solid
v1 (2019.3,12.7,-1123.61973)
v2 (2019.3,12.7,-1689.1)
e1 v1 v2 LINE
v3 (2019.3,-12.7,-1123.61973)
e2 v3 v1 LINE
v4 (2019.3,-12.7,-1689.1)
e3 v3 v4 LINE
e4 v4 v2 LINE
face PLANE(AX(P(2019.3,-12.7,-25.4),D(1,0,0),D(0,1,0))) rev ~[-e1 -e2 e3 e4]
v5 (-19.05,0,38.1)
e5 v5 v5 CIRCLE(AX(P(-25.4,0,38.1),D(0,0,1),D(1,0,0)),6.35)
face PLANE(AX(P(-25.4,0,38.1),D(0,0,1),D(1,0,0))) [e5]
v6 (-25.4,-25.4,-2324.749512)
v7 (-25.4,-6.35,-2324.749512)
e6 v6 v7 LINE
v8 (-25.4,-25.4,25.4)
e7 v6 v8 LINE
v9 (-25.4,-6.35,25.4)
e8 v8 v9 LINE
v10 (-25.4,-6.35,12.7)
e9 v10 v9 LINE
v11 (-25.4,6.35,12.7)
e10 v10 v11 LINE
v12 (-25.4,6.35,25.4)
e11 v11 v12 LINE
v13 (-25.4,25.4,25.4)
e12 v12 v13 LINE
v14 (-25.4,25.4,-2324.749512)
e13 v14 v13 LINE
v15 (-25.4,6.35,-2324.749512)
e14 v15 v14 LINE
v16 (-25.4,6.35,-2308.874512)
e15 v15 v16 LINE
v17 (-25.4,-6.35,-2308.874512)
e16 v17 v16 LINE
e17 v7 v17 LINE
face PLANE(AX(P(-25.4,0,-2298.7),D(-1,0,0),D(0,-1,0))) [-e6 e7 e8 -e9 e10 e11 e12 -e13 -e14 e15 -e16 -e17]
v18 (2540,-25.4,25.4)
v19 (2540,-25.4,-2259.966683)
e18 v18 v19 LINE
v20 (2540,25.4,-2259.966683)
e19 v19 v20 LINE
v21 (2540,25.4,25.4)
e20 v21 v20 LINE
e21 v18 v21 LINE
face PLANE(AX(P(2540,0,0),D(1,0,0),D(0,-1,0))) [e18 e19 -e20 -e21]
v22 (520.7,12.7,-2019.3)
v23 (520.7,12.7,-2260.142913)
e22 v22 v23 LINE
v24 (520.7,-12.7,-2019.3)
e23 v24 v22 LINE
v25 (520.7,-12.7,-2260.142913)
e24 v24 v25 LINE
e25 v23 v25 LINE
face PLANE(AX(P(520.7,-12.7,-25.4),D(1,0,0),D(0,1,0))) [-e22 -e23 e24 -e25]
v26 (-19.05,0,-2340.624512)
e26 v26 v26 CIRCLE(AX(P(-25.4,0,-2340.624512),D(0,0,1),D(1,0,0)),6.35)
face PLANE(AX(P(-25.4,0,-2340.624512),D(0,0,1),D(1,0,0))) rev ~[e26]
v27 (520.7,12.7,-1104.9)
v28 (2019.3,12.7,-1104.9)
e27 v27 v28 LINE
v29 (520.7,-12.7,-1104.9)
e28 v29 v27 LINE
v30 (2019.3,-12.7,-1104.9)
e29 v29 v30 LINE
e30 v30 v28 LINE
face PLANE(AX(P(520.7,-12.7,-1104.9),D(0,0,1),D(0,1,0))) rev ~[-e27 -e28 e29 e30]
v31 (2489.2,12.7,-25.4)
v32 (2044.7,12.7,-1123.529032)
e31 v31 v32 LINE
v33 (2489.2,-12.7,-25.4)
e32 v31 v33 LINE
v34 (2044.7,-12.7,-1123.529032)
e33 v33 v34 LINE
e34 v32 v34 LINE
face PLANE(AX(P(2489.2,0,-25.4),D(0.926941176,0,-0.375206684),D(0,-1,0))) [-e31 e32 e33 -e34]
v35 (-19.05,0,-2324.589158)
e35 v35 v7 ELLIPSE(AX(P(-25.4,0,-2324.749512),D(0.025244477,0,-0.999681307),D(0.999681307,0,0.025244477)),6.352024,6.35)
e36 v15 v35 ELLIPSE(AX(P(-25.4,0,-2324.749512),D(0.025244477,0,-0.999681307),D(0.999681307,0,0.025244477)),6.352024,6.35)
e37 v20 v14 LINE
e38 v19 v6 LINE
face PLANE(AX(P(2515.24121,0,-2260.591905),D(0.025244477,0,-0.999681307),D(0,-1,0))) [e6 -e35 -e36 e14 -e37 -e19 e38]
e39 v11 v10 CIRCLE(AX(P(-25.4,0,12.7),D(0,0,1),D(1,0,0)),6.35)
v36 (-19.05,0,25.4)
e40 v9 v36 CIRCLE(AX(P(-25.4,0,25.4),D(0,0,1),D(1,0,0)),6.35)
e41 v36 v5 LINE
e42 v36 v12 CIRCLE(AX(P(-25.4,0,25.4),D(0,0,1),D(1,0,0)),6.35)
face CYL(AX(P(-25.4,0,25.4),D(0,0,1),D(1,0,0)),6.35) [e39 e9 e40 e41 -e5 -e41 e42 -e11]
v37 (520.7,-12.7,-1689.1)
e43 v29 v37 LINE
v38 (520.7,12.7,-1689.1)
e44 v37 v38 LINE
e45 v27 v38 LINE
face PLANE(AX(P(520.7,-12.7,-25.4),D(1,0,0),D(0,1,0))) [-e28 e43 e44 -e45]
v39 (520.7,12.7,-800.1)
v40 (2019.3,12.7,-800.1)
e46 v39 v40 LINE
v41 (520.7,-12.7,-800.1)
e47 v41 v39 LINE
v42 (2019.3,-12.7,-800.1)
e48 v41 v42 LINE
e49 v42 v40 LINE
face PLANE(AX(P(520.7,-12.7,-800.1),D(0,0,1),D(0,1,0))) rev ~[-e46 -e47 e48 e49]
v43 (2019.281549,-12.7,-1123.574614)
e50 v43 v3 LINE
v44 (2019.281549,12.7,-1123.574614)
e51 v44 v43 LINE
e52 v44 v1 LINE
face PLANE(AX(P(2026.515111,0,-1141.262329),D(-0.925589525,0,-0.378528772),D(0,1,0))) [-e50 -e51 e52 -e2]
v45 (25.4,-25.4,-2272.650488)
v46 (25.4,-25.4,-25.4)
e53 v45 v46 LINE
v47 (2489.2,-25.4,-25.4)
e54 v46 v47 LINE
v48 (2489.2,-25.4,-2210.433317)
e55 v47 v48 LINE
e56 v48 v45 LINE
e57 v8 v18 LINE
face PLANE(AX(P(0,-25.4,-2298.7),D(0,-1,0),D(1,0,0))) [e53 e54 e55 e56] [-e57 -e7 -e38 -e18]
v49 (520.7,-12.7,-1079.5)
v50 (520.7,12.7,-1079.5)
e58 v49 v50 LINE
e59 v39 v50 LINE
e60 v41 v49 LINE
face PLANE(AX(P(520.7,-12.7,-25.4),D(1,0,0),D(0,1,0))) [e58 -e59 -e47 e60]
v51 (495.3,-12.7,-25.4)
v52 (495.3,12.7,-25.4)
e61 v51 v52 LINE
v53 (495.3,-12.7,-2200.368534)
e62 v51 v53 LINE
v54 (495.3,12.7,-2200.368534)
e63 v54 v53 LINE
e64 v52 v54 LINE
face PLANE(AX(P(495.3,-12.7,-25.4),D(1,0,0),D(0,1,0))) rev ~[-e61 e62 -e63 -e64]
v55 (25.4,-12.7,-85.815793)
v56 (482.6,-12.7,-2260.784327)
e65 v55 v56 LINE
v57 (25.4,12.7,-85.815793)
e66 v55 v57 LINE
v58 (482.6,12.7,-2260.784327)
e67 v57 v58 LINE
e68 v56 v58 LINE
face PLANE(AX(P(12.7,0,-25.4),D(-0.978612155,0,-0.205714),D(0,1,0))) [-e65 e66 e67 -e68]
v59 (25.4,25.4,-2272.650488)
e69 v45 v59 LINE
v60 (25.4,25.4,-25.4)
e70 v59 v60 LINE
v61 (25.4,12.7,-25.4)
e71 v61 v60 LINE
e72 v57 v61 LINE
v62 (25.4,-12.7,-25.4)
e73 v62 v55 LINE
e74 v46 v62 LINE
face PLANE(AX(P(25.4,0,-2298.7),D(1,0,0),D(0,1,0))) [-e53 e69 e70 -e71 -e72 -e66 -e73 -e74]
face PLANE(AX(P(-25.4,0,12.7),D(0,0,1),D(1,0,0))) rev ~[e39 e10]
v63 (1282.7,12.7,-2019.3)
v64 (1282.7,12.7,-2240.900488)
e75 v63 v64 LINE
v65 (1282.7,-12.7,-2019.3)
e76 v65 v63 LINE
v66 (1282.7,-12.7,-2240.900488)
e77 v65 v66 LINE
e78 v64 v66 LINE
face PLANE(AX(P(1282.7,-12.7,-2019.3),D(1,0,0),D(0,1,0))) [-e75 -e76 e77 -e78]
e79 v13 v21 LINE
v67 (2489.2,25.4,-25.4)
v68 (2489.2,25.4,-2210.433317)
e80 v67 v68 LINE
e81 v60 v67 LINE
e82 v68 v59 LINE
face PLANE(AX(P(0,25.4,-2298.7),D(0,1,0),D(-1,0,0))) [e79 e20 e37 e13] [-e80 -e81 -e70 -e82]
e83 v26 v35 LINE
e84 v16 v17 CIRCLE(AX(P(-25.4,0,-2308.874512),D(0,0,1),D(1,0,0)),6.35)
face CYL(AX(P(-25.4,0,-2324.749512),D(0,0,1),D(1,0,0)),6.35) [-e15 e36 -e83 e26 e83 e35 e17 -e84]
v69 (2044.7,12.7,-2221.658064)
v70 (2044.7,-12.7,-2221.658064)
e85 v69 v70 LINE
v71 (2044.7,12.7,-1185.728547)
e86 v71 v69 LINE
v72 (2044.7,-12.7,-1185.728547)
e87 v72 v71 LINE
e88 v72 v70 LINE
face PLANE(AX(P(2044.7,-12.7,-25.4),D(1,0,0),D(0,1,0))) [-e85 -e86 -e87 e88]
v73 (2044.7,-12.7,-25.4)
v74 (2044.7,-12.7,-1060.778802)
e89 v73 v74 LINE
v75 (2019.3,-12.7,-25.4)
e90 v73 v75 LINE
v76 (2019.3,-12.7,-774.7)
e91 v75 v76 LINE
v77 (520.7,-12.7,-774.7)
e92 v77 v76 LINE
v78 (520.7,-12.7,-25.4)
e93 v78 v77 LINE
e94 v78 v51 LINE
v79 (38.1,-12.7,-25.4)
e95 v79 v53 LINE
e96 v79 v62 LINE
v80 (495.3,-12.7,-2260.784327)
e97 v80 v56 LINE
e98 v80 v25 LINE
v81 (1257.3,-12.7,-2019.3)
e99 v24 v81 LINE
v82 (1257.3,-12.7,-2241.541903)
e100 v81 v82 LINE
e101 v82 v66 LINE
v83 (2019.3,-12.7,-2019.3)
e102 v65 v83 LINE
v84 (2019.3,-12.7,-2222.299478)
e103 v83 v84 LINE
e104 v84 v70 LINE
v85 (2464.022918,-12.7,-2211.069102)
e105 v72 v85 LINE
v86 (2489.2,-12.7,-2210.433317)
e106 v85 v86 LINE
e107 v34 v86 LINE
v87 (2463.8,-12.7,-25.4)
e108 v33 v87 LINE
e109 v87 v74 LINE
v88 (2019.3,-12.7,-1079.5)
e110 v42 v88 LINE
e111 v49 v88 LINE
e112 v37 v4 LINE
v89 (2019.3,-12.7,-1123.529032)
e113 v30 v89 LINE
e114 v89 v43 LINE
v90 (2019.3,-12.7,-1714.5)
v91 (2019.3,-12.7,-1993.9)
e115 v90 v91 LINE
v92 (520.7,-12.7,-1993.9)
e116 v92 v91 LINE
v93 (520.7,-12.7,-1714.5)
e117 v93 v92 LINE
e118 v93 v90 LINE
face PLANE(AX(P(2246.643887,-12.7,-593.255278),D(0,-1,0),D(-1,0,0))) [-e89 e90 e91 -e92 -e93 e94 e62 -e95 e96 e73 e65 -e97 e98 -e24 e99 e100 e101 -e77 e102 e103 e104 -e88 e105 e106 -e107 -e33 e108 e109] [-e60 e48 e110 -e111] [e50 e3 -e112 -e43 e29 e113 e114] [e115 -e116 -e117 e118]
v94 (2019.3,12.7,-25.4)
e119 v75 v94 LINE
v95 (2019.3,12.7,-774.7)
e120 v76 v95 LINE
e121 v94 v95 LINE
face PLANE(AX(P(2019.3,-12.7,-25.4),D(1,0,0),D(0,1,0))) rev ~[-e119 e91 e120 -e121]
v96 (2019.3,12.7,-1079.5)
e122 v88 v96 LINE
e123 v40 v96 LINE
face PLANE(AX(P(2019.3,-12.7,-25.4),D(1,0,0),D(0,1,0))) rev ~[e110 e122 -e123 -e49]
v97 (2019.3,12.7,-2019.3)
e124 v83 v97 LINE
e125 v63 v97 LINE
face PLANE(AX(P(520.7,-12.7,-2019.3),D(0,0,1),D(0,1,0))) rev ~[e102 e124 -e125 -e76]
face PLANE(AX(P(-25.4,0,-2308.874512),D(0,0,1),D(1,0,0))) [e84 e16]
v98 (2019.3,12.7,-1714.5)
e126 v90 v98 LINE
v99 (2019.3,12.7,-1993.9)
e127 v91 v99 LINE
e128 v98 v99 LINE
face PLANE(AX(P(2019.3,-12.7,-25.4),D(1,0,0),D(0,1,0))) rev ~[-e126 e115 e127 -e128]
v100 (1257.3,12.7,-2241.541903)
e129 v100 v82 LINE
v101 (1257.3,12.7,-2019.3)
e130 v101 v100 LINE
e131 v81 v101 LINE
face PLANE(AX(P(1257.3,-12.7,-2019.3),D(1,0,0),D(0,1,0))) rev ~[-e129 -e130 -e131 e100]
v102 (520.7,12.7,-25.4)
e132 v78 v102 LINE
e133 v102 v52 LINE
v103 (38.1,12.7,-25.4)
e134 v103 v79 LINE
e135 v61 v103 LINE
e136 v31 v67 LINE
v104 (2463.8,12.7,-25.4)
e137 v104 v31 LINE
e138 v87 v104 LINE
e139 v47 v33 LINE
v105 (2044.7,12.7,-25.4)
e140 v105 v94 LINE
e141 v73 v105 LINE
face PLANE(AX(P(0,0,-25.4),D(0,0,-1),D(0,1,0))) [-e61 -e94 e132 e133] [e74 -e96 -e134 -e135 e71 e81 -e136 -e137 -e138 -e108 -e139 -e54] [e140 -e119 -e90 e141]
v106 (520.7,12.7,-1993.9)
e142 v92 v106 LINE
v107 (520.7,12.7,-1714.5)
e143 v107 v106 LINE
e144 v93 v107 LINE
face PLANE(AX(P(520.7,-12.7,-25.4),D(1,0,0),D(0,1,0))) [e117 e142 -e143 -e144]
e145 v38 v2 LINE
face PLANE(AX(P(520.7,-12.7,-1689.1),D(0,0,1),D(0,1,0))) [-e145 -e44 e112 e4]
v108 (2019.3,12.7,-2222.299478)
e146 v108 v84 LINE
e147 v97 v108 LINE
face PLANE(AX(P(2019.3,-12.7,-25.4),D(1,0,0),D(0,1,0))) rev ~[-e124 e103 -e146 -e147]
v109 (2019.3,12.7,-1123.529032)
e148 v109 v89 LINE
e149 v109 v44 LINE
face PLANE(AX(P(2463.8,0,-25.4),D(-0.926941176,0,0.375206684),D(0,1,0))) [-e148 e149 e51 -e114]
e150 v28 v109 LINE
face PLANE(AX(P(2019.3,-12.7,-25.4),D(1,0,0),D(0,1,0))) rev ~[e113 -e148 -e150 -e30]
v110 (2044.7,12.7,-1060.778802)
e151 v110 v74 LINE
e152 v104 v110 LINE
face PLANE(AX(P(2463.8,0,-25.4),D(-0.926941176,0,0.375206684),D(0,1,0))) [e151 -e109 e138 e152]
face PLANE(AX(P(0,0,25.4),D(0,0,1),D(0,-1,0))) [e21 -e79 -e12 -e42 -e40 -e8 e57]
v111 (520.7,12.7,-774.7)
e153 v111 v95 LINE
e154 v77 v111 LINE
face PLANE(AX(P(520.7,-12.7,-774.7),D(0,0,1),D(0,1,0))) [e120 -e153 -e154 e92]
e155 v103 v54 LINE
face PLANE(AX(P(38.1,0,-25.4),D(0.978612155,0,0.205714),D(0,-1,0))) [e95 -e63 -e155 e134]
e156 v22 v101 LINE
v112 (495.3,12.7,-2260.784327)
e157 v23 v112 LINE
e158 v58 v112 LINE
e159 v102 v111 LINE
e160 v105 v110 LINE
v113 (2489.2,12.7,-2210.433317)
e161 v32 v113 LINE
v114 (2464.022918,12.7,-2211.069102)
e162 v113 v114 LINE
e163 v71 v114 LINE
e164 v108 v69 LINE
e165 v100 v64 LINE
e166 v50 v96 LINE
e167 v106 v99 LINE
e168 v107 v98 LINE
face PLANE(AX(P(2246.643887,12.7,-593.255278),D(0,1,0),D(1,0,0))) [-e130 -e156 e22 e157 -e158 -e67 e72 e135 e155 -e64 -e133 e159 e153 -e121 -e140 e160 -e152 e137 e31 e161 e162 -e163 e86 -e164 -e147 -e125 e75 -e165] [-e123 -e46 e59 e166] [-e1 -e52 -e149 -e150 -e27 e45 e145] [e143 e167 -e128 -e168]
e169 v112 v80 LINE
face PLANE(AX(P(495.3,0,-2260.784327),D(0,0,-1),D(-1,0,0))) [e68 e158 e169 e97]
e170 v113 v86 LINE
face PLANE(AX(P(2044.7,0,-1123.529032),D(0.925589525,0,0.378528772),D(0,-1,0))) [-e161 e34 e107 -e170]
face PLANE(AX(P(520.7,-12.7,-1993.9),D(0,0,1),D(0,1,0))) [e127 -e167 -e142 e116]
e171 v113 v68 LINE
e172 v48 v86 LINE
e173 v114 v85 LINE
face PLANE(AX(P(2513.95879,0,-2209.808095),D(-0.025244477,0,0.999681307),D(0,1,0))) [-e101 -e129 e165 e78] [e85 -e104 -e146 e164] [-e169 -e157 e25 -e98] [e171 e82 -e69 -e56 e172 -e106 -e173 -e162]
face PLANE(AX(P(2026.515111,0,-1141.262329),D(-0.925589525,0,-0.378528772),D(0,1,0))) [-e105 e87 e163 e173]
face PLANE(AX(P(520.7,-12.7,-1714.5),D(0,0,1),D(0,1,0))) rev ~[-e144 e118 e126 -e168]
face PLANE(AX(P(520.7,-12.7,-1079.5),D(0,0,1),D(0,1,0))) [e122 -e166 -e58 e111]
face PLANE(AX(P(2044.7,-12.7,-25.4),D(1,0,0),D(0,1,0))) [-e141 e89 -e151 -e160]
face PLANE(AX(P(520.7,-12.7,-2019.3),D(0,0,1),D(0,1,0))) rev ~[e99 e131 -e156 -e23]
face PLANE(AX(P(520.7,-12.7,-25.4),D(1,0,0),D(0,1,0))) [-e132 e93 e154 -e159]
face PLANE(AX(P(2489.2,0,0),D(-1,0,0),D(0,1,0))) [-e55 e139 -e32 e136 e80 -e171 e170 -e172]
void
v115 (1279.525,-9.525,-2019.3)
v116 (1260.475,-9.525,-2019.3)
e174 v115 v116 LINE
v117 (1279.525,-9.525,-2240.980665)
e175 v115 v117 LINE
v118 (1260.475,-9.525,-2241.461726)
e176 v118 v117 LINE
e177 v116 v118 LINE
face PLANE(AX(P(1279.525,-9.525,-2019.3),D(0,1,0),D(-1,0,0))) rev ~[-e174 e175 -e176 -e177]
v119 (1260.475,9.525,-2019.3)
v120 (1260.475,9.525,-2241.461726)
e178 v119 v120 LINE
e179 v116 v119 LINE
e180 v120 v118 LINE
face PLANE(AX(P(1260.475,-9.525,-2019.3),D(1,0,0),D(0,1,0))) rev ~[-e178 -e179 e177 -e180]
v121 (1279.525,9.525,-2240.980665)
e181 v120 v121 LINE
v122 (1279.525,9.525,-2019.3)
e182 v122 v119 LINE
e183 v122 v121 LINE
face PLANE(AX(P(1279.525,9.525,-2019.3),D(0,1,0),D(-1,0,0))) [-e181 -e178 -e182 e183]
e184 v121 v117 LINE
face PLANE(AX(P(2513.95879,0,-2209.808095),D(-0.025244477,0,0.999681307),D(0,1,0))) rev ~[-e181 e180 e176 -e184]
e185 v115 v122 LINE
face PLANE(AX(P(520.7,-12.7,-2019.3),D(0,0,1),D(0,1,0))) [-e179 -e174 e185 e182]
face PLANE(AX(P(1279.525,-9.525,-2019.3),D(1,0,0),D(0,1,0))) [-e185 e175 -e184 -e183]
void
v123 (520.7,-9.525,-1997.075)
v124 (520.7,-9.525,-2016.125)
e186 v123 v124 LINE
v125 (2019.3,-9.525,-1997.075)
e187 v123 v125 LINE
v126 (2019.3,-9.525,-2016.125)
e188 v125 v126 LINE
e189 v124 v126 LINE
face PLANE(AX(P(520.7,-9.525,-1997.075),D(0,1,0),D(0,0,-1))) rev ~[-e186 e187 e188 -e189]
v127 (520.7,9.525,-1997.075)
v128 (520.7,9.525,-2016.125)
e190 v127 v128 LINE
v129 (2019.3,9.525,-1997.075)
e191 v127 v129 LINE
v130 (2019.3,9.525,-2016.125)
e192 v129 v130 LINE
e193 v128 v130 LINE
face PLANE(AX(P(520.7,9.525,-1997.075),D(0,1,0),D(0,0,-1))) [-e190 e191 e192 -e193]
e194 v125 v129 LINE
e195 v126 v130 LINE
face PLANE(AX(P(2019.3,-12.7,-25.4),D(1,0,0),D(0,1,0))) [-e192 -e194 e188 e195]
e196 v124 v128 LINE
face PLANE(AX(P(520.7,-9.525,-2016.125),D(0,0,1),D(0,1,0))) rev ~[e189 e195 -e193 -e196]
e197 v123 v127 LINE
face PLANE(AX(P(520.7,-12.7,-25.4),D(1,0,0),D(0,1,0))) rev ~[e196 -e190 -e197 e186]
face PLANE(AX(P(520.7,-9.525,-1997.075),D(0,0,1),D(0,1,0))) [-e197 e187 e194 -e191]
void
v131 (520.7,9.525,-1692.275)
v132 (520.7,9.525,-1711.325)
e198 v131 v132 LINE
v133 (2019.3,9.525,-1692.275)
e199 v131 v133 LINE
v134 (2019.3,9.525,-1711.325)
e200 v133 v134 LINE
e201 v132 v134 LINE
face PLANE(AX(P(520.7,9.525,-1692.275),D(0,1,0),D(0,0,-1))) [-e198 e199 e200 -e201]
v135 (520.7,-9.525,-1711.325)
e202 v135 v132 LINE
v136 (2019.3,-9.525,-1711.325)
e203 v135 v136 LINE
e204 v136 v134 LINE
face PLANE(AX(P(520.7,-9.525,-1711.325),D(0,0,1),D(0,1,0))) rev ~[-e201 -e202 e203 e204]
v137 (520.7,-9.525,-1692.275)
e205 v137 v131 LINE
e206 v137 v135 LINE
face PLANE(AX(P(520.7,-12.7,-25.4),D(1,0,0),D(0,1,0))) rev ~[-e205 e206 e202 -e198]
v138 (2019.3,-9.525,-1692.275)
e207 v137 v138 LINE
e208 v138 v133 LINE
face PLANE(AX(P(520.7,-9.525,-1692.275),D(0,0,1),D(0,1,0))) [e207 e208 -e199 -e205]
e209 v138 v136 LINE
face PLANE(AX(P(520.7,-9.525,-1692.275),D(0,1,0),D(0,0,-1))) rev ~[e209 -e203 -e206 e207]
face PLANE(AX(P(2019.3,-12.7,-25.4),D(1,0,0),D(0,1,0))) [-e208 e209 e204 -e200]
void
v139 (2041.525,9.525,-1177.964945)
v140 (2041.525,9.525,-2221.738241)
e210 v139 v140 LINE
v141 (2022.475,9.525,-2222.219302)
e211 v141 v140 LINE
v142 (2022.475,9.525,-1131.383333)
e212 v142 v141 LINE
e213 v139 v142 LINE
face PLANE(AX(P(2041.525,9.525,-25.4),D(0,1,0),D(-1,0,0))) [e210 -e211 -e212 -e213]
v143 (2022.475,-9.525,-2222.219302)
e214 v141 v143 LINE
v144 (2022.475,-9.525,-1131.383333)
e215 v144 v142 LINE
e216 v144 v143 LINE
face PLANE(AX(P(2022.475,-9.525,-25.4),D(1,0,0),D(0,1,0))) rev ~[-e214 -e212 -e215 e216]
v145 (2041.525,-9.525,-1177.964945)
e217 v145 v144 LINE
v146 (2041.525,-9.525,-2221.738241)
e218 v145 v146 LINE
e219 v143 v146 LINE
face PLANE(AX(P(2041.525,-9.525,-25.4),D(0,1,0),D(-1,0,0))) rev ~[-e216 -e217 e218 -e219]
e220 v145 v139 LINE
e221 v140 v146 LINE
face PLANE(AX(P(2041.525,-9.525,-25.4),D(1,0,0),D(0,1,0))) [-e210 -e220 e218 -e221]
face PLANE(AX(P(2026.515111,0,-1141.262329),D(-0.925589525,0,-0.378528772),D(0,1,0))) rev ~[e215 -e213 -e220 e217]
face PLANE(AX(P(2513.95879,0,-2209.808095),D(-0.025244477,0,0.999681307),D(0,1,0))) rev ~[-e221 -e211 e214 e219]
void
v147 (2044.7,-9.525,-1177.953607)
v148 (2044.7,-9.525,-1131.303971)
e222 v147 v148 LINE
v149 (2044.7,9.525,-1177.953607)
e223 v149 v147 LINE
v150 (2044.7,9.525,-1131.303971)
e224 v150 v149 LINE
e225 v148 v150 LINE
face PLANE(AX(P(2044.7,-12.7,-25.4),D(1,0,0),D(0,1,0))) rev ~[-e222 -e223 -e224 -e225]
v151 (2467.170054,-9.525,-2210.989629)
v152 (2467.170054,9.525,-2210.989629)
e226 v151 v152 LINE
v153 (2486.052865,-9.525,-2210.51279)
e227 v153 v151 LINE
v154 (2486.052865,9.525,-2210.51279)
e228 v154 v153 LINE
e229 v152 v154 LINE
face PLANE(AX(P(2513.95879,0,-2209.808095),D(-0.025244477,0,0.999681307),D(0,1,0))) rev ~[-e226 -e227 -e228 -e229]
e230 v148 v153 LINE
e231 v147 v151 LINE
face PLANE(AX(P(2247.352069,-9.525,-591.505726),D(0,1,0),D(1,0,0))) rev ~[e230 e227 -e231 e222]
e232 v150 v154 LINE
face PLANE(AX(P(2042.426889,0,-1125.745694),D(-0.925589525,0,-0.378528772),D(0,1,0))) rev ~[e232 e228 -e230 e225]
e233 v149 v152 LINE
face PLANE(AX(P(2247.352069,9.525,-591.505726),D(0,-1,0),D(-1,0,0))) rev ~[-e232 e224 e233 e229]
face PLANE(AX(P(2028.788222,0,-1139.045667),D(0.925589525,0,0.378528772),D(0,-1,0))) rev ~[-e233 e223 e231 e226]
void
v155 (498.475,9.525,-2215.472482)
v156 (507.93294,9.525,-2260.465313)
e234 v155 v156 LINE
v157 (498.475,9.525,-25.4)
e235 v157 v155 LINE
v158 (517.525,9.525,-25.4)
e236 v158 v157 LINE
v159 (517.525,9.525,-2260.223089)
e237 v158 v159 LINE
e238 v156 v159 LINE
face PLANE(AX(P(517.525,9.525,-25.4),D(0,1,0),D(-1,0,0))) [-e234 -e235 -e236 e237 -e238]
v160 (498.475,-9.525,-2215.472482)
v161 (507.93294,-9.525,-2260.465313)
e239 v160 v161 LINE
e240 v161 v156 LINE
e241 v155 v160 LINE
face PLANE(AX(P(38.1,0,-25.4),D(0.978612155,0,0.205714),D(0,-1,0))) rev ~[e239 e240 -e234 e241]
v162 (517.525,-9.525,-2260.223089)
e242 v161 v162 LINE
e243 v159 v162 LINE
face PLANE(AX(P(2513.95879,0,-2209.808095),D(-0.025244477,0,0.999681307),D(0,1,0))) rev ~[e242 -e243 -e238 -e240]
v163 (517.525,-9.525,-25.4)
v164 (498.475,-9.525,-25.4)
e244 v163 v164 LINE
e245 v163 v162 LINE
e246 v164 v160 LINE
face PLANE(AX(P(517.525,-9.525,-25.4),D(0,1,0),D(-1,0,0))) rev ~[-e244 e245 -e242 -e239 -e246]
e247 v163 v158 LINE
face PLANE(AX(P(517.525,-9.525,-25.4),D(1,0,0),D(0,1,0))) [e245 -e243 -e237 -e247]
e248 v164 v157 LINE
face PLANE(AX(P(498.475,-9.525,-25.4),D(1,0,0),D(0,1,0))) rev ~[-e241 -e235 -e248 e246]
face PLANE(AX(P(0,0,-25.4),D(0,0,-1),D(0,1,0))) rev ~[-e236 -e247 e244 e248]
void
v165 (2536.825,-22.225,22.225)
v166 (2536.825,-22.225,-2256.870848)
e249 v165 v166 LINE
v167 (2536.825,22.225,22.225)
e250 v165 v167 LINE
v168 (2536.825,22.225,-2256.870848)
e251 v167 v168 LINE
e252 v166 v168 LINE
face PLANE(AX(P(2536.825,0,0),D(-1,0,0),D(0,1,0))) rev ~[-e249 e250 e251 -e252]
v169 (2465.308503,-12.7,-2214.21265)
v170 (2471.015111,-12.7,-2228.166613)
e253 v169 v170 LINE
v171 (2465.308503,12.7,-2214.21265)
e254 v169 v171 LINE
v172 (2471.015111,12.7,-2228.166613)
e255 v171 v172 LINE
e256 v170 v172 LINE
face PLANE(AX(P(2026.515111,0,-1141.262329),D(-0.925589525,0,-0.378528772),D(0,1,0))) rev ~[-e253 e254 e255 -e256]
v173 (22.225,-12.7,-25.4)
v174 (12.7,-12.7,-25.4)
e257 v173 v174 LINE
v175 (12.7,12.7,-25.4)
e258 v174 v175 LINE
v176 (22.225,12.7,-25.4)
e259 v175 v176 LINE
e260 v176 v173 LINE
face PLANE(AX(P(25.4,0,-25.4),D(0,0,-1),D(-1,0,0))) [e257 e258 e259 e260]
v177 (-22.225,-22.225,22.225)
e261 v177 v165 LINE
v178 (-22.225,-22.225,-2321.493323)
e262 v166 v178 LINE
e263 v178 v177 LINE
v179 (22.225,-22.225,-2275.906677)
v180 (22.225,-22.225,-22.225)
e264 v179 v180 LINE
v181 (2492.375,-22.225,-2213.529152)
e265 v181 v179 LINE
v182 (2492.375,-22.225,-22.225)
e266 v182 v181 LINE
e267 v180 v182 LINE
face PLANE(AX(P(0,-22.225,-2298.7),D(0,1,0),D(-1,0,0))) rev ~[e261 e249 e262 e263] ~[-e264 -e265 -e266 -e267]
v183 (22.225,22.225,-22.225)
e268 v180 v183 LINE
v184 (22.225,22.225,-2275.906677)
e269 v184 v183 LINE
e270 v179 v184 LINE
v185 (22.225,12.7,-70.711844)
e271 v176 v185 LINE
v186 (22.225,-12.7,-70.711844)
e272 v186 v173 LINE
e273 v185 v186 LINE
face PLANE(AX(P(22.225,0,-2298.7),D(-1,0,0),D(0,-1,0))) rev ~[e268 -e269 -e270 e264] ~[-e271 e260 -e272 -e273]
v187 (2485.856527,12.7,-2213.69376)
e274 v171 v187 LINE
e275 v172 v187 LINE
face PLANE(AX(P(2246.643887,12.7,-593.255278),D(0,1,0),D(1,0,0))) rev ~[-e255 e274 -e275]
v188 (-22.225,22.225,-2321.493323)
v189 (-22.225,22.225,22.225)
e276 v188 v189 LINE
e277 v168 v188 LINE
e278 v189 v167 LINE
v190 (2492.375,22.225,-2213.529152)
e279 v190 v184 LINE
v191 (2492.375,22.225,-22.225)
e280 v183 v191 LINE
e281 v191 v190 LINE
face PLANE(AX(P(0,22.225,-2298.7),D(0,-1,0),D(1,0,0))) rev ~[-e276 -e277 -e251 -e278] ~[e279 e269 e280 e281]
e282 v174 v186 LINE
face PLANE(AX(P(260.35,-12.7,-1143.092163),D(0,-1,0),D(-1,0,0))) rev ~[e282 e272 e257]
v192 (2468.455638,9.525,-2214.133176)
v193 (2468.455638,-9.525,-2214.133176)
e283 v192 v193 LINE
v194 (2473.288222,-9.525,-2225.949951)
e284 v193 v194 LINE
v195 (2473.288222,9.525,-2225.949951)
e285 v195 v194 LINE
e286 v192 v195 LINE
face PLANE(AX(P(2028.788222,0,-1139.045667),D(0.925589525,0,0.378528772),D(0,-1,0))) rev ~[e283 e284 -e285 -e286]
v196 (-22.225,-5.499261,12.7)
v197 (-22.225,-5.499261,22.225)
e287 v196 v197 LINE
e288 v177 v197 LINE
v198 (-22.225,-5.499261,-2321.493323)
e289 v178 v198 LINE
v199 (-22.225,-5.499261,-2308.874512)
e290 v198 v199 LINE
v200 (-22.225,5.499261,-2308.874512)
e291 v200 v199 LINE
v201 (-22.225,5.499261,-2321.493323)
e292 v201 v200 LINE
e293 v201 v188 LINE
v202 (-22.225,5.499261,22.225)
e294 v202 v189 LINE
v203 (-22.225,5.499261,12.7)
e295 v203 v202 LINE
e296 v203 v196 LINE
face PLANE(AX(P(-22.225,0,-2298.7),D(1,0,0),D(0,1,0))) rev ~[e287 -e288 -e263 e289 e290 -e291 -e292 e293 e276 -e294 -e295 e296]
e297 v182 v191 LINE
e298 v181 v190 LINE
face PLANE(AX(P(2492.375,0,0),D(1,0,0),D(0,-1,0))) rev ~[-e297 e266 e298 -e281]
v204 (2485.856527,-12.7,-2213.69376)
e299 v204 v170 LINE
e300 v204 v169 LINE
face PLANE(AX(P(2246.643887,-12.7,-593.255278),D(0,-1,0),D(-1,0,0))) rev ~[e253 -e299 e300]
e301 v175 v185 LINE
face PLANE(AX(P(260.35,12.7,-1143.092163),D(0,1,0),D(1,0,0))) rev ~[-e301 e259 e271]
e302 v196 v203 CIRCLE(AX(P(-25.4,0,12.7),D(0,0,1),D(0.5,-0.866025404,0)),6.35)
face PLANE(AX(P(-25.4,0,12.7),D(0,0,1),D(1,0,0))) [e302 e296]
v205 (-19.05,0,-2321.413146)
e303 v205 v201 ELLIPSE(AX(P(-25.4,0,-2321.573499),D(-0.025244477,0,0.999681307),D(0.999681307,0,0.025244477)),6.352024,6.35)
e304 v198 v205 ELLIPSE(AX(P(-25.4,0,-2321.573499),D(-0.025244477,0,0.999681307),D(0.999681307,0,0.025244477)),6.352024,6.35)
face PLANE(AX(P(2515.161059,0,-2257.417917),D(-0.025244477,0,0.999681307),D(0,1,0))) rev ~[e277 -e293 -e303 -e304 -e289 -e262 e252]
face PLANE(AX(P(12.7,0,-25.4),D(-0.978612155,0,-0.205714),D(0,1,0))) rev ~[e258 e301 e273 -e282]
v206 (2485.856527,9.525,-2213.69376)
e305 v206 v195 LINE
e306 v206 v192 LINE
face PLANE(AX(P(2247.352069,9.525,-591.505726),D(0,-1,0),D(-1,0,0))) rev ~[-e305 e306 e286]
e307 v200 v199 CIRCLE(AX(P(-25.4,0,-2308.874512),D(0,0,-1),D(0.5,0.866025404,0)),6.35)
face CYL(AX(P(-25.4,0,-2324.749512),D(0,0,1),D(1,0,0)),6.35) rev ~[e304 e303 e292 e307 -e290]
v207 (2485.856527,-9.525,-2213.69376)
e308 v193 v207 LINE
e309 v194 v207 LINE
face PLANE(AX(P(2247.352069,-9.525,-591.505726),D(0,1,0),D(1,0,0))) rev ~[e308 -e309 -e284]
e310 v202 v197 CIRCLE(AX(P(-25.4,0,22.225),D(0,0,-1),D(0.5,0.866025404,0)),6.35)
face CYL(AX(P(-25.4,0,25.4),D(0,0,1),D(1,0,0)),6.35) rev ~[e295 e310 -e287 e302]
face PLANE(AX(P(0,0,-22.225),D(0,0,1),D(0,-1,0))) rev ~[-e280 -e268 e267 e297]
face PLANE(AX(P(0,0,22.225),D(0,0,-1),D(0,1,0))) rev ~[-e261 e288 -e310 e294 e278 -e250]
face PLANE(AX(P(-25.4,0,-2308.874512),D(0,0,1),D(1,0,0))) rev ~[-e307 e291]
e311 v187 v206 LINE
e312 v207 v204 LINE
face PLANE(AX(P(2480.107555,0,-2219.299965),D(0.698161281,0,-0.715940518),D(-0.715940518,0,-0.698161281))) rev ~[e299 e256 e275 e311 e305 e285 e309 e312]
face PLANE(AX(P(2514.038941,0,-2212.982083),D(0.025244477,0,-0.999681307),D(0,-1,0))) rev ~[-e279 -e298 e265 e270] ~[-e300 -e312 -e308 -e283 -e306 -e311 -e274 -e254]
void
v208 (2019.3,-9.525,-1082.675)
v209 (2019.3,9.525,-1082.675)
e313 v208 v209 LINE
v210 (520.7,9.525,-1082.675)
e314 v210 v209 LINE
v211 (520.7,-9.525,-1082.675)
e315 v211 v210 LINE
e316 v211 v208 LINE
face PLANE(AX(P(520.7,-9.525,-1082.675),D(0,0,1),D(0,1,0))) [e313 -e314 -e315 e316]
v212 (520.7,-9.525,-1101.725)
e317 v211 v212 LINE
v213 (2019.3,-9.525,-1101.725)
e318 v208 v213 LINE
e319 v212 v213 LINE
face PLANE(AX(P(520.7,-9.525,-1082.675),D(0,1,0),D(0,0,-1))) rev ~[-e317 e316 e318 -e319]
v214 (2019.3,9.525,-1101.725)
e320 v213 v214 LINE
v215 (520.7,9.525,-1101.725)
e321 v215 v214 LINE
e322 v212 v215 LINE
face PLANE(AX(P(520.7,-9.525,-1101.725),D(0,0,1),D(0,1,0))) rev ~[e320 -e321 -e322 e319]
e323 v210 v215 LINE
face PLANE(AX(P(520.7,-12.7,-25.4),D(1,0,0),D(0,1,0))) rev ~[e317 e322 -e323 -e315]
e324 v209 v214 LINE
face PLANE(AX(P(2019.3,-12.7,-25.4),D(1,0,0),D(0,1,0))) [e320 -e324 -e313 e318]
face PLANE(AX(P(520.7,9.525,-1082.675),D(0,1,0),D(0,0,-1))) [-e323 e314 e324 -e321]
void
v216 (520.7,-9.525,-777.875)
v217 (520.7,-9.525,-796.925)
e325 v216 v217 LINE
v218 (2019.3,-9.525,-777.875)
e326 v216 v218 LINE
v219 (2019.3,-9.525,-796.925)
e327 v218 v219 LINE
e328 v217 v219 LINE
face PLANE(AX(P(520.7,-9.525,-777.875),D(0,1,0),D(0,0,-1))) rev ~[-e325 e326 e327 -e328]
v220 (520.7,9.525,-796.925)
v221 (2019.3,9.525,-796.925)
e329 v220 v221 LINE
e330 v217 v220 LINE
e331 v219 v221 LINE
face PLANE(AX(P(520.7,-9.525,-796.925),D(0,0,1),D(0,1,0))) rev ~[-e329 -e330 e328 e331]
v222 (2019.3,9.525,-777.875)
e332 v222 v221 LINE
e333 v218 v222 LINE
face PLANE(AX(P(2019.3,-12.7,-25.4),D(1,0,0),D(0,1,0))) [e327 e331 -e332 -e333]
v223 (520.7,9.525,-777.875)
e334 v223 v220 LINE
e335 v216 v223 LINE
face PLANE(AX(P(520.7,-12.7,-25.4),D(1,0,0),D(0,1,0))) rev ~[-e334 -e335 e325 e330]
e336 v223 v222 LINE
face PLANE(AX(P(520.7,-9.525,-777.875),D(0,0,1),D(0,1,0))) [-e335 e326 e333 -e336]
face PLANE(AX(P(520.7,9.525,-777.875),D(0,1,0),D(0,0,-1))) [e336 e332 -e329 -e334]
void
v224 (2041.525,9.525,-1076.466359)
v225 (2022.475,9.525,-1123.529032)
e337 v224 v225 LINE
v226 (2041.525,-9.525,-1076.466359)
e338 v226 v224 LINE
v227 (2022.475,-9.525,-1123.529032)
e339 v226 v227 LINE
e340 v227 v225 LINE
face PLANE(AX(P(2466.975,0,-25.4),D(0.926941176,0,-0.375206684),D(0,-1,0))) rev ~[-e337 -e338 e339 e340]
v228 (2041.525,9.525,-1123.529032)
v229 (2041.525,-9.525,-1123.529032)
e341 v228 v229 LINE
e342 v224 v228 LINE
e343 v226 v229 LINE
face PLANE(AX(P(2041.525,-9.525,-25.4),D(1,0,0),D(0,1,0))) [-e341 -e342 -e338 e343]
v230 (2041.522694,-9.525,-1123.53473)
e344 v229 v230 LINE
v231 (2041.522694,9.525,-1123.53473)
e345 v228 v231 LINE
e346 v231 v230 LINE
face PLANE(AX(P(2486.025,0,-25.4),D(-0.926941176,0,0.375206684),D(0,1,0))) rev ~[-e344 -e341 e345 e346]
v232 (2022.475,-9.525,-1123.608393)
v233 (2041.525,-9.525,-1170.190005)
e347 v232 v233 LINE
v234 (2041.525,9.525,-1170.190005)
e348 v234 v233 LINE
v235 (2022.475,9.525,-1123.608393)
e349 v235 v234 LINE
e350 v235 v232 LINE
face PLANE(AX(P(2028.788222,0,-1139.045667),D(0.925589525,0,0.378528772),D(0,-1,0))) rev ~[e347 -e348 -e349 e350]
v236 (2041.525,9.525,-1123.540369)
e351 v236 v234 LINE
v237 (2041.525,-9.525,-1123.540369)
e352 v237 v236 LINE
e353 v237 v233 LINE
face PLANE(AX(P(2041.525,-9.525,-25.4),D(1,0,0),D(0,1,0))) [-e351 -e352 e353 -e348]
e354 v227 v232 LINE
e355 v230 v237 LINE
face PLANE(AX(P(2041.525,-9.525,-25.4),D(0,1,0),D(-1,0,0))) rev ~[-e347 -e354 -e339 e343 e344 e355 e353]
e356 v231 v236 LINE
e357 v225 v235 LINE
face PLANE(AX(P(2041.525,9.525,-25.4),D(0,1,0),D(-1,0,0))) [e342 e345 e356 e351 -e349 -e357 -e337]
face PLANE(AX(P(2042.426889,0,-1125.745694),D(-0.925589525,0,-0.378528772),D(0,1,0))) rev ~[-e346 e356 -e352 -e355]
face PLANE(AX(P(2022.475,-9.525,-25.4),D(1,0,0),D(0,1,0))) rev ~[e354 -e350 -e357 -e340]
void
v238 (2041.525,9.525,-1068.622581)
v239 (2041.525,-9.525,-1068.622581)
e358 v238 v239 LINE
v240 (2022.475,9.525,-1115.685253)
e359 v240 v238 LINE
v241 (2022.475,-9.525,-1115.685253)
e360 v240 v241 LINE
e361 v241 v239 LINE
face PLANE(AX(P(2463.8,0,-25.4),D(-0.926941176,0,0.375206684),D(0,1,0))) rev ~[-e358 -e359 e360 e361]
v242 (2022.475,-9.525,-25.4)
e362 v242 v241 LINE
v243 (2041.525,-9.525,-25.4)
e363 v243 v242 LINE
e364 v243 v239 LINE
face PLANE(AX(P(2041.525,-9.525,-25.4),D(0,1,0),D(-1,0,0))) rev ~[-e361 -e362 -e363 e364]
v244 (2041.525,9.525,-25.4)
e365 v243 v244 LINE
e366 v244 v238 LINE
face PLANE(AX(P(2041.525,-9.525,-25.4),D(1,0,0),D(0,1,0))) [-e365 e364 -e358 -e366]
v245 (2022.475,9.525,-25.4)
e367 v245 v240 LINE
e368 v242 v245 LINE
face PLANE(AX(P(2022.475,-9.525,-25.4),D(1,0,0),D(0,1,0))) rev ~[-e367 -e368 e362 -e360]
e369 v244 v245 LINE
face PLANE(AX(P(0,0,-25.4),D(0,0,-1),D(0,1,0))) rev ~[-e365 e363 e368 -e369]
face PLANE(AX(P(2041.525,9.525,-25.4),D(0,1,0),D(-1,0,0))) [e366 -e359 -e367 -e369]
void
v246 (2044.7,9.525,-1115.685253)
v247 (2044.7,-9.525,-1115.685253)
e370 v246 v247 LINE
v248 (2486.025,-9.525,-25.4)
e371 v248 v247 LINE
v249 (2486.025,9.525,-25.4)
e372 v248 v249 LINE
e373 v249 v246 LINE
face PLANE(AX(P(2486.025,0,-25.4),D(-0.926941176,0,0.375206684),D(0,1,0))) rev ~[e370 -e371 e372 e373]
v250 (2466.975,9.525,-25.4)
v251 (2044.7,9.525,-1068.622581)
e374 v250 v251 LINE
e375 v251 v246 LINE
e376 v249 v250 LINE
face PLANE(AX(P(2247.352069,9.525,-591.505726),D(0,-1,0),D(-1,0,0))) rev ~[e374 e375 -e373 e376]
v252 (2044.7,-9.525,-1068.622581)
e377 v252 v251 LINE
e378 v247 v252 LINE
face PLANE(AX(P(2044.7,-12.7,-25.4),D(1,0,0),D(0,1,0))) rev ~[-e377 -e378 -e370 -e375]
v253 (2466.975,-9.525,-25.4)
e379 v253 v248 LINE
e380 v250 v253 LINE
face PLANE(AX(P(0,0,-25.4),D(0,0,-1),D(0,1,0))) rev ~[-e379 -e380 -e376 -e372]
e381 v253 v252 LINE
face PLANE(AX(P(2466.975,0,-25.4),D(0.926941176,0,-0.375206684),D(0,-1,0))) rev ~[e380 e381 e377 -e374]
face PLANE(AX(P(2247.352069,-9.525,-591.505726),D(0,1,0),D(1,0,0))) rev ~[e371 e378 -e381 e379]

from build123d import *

# Parameters (mm, degrees)
SKETCH2_W           = 50.8
SKETCH2_H           = 50.8
SKETCH2_W_2         = 44.45
SKETCH2_H_2         = 44.45
BOSS_EXTRUDE2_REACH = 2301.35
SKETCH4_W           = 25.4
SKETCH4_H           = 25.4
SKETCH4_W_2         = 19.05
SKETCH4_H_2         = 19.05
SKETCH5_W           = 25.4
SKETCH5_H           = 25.4
SKETCH5_W_2         = 19.05
SKETCH5_H_2         = 19.05
BOSS_EXTRUDE3_DEPTH = 1498.6
SKETCH6_W           = 25.4
SKETCH6_H           = 25.4
BOSS_EXTRUDE4_REACH = 307.45
SKETCH8_W           = 25.4
SKETCH8_H           = 25.4
SKETCH8_W_2         = 19.05
SKETCH8_H_2         = 19.05
SKETCH9_W           = 25.4
SKETCH9_H           = 25.4
SKETCH9_W_2         = 19.05
SKETCH9_H_2         = 19.05
SKETCH11_R          = 6.35
BOSS_EXTRUDE5_DEPTH = 12.7
SKETCH13_R          = 6.35
BOSS_EXTRUDE6_DEPTH = 15.875


with BuildPart() as part:
    # Sweep1: sweep along a path in Sketch1
    with BuildLine(Plane(origin=(0, 0, 0), x_dir=(1, 0, 0), z_dir=(0, 1, 0))) as sweep1_path:
        Line((0, 2298.7), (0, 0))
        Line((0, 0), (2514.6, 0))
        Line((2514.6, 0), (2514.6, 2235.2))
        Line((2514.6, 2235.2), (0, 2298.7))
    # Sketch2 → Sweep1 (sweep)
    with BuildSketch(Plane.XY.offset(-1016)):
        Rectangle(SKETCH2_W, SKETCH2_H)
        Rectangle(SKETCH2_W_2, SKETCH2_H_2, mode=Mode.SUBTRACT)
    sweep(path=sweep1_path.line, transition=Transition.RIGHT)

    # Boss-Extrude2: up to this face of the body (flat: up to its plane)
    boss_extrude2_end = Plane(part.part.faces().sort_by_distance((1257.3, 0, -2241.541902627))[0])
    # Sketch4 → Boss-Extrude2 (add, up to the picked face)
    with BuildSketch(Plane(origin=(0, 0, -25.4), x_dir=(-1, 0, 0), z_dir=(0, 0, -1)), mode=Mode.PRIVATE) as boss_extrude2_sk1:
        with Locations((-2032, 0)):
            Rectangle(SKETCH4_W, SKETCH4_H)
        with Locations((-2032, 0)):
            Rectangle(SKETCH4_W_2, SKETCH4_H_2, mode=Mode.SUBTRACT)
    boss_extrude2_tool1 = split(extrude(boss_extrude2_sk1.sketch, amount=BOSS_EXTRUDE2_REACH, mode=Mode.PRIVATE), bisect_by=boss_extrude2_end, keep=Keep.BOTH, mode=Mode.PRIVATE)
    add(boss_extrude2_tool1.solids().sort_by_distance((2032, -12.34079, -25.4))[0])
    # Sketch4 → Boss-Extrude2 (add, up to the picked face)
    with BuildSketch(Plane(origin=(0, 0, -25.4), x_dir=(-1, 0, 0), z_dir=(0, 0, -1)), mode=Mode.PRIVATE) as boss_extrude2_sk2:
        with Locations((-508, 0)):
            Rectangle(SKETCH4_W, SKETCH4_H)
        with Locations((-508, 0)):
            Rectangle(SKETCH4_W_2, SKETCH4_H_2, mode=Mode.SUBTRACT)
    boss_extrude2_tool2 = split(extrude(boss_extrude2_sk2.sketch, amount=BOSS_EXTRUDE2_REACH, mode=Mode.PRIVATE), bisect_by=boss_extrude2_end, keep=Keep.BOTH, mode=Mode.PRIVATE)
    add(boss_extrude2_tool2.solids().sort_by_distance((495.65921, 0, -25.4))[0])

    # Sketch5 → Boss-Extrude3 (add)
    with BuildSketch(Plane(origin=(520.7, 0, 0), x_dir=(0, 0, -1), z_dir=(1, 0, 0))):
        with Locations((787.4, 0)):
            Rectangle(SKETCH5_W, SKETCH5_H)
        with Locations((787.4, 0)):
            Rectangle(SKETCH5_W_2, SKETCH5_H_2, mode=Mode.SUBTRACT)
        with Locations((1092.2, 0)):
            Rectangle(SKETCH5_W, SKETCH5_H)
        with Locations((1092.2, 0)):
            Rectangle(SKETCH5_W_2, SKETCH5_H_2, mode=Mode.SUBTRACT)
        with Locations((1701.8, 0)):
            Rectangle(SKETCH5_W, SKETCH5_H)
        with Locations((1701.8, 0)):
            Rectangle(SKETCH5_W_2, SKETCH5_H_2, mode=Mode.SUBTRACT)
        with Locations((2006.6, 0)):
            Rectangle(SKETCH5_W, SKETCH5_H)
        with Locations((2006.6, 0)):
            Rectangle(SKETCH5_W_2, SKETCH5_H_2, mode=Mode.SUBTRACT)
    extrude(amount=BOSS_EXTRUDE3_DEPTH)

    # Sweep2: sweep along a path in Sketch7
    with BuildLine(Plane(origin=(0, 25.4, 0), x_dir=(1, 0, 0), z_dir=(0, 1, 0))) as sweep2_path:
        Line((25.4, 25.4), (495.3, 2260.78432687))
    # Sketch6 → Sweep2 (sweep)
    with BuildSketch(Plane(origin=(0, 0, -25.4), x_dir=(-1, 0, 0), z_dir=(0, 0, -1))):
        with Locations((-25.4, 0)):
            Rectangle(SKETCH6_W, SKETCH6_H)
    sweep(path=sweep2_path.line)

    # Boss-Extrude4: up to this face of the body (flat: up to its plane)
    boss_extrude4_end = Plane(part.part.faces().sort_by_distance((1257.167708333, 0, -2241.545243326))[0])
    # Sketch8 → Boss-Extrude4 (add, up to the picked face)
    with BuildSketch(Plane(origin=(0, 0, -2019.3), x_dir=(-1, 0, 0), z_dir=(0, 0, -1)), mode=Mode.PRIVATE) as boss_extrude4_sk1:
        with Locations((-1270, 0)):
            Rectangle(SKETCH8_W, SKETCH8_H)
        with Locations((-1270, 0)):
            Rectangle(SKETCH8_W_2, SKETCH8_H_2, mode=Mode.SUBTRACT)
    boss_extrude4_tool1 = split(extrude(boss_extrude4_sk1.sketch, amount=BOSS_EXTRUDE4_REACH, mode=Mode.PRIVATE), bisect_by=boss_extrude4_end, keep=Keep.BOTH, mode=Mode.PRIVATE)
    add(boss_extrude4_tool1.solids().sort_by_distance((1270, -12.34079, -2019.3))[0])

    # Sweep4: sweep along a path in Sketch10
    with BuildLine(Plane(origin=(0, 25.4, 0), x_dir=(1, 0, 0), z_dir=(0, 1, 0))) as sweep4_path:
        Line((2489.2, 25.4), (2044.7, 1123.529032122))
        Line((2044.7, 1123.529032122), (2489.2, 2210.433316769))
    # Sketch9 → Sweep4 (sweep)
    with BuildSketch(Plane(origin=(0, 0, -25.4), x_dir=(-1, 0, 0), z_dir=(0, 0, -1))):
        with Locations((-2476.5, 0)):
            Rectangle(SKETCH9_W, SKETCH9_H)
        with Locations((-2476.5, 0)):
            Rectangle(SKETCH9_W_2, SKETCH9_H_2, mode=Mode.SUBTRACT)
    sweep(path=sweep4_path.line, transition=Transition.RIGHT)

    # Sketch11 → Boss-Extrude5 (add, symmetric)
    with BuildSketch(Plane.XY.offset(25.4)):
        with Locations((-25.4, 0)):
            Circle(SKETCH11_R)
    extrude(amount=BOSS_EXTRUDE5_DEPTH, both=True)

    # Sketch13 → Boss-Extrude6 (add, symmetric)
    with BuildSketch(Plane.XY.offset(-2324.749511514)):
        with Locations((-25.4, 0)):
            Circle(SKETCH13_R)
    extrude(amount=BOSS_EXTRUDE6_DEPTH, both=True)


solid = part.part
